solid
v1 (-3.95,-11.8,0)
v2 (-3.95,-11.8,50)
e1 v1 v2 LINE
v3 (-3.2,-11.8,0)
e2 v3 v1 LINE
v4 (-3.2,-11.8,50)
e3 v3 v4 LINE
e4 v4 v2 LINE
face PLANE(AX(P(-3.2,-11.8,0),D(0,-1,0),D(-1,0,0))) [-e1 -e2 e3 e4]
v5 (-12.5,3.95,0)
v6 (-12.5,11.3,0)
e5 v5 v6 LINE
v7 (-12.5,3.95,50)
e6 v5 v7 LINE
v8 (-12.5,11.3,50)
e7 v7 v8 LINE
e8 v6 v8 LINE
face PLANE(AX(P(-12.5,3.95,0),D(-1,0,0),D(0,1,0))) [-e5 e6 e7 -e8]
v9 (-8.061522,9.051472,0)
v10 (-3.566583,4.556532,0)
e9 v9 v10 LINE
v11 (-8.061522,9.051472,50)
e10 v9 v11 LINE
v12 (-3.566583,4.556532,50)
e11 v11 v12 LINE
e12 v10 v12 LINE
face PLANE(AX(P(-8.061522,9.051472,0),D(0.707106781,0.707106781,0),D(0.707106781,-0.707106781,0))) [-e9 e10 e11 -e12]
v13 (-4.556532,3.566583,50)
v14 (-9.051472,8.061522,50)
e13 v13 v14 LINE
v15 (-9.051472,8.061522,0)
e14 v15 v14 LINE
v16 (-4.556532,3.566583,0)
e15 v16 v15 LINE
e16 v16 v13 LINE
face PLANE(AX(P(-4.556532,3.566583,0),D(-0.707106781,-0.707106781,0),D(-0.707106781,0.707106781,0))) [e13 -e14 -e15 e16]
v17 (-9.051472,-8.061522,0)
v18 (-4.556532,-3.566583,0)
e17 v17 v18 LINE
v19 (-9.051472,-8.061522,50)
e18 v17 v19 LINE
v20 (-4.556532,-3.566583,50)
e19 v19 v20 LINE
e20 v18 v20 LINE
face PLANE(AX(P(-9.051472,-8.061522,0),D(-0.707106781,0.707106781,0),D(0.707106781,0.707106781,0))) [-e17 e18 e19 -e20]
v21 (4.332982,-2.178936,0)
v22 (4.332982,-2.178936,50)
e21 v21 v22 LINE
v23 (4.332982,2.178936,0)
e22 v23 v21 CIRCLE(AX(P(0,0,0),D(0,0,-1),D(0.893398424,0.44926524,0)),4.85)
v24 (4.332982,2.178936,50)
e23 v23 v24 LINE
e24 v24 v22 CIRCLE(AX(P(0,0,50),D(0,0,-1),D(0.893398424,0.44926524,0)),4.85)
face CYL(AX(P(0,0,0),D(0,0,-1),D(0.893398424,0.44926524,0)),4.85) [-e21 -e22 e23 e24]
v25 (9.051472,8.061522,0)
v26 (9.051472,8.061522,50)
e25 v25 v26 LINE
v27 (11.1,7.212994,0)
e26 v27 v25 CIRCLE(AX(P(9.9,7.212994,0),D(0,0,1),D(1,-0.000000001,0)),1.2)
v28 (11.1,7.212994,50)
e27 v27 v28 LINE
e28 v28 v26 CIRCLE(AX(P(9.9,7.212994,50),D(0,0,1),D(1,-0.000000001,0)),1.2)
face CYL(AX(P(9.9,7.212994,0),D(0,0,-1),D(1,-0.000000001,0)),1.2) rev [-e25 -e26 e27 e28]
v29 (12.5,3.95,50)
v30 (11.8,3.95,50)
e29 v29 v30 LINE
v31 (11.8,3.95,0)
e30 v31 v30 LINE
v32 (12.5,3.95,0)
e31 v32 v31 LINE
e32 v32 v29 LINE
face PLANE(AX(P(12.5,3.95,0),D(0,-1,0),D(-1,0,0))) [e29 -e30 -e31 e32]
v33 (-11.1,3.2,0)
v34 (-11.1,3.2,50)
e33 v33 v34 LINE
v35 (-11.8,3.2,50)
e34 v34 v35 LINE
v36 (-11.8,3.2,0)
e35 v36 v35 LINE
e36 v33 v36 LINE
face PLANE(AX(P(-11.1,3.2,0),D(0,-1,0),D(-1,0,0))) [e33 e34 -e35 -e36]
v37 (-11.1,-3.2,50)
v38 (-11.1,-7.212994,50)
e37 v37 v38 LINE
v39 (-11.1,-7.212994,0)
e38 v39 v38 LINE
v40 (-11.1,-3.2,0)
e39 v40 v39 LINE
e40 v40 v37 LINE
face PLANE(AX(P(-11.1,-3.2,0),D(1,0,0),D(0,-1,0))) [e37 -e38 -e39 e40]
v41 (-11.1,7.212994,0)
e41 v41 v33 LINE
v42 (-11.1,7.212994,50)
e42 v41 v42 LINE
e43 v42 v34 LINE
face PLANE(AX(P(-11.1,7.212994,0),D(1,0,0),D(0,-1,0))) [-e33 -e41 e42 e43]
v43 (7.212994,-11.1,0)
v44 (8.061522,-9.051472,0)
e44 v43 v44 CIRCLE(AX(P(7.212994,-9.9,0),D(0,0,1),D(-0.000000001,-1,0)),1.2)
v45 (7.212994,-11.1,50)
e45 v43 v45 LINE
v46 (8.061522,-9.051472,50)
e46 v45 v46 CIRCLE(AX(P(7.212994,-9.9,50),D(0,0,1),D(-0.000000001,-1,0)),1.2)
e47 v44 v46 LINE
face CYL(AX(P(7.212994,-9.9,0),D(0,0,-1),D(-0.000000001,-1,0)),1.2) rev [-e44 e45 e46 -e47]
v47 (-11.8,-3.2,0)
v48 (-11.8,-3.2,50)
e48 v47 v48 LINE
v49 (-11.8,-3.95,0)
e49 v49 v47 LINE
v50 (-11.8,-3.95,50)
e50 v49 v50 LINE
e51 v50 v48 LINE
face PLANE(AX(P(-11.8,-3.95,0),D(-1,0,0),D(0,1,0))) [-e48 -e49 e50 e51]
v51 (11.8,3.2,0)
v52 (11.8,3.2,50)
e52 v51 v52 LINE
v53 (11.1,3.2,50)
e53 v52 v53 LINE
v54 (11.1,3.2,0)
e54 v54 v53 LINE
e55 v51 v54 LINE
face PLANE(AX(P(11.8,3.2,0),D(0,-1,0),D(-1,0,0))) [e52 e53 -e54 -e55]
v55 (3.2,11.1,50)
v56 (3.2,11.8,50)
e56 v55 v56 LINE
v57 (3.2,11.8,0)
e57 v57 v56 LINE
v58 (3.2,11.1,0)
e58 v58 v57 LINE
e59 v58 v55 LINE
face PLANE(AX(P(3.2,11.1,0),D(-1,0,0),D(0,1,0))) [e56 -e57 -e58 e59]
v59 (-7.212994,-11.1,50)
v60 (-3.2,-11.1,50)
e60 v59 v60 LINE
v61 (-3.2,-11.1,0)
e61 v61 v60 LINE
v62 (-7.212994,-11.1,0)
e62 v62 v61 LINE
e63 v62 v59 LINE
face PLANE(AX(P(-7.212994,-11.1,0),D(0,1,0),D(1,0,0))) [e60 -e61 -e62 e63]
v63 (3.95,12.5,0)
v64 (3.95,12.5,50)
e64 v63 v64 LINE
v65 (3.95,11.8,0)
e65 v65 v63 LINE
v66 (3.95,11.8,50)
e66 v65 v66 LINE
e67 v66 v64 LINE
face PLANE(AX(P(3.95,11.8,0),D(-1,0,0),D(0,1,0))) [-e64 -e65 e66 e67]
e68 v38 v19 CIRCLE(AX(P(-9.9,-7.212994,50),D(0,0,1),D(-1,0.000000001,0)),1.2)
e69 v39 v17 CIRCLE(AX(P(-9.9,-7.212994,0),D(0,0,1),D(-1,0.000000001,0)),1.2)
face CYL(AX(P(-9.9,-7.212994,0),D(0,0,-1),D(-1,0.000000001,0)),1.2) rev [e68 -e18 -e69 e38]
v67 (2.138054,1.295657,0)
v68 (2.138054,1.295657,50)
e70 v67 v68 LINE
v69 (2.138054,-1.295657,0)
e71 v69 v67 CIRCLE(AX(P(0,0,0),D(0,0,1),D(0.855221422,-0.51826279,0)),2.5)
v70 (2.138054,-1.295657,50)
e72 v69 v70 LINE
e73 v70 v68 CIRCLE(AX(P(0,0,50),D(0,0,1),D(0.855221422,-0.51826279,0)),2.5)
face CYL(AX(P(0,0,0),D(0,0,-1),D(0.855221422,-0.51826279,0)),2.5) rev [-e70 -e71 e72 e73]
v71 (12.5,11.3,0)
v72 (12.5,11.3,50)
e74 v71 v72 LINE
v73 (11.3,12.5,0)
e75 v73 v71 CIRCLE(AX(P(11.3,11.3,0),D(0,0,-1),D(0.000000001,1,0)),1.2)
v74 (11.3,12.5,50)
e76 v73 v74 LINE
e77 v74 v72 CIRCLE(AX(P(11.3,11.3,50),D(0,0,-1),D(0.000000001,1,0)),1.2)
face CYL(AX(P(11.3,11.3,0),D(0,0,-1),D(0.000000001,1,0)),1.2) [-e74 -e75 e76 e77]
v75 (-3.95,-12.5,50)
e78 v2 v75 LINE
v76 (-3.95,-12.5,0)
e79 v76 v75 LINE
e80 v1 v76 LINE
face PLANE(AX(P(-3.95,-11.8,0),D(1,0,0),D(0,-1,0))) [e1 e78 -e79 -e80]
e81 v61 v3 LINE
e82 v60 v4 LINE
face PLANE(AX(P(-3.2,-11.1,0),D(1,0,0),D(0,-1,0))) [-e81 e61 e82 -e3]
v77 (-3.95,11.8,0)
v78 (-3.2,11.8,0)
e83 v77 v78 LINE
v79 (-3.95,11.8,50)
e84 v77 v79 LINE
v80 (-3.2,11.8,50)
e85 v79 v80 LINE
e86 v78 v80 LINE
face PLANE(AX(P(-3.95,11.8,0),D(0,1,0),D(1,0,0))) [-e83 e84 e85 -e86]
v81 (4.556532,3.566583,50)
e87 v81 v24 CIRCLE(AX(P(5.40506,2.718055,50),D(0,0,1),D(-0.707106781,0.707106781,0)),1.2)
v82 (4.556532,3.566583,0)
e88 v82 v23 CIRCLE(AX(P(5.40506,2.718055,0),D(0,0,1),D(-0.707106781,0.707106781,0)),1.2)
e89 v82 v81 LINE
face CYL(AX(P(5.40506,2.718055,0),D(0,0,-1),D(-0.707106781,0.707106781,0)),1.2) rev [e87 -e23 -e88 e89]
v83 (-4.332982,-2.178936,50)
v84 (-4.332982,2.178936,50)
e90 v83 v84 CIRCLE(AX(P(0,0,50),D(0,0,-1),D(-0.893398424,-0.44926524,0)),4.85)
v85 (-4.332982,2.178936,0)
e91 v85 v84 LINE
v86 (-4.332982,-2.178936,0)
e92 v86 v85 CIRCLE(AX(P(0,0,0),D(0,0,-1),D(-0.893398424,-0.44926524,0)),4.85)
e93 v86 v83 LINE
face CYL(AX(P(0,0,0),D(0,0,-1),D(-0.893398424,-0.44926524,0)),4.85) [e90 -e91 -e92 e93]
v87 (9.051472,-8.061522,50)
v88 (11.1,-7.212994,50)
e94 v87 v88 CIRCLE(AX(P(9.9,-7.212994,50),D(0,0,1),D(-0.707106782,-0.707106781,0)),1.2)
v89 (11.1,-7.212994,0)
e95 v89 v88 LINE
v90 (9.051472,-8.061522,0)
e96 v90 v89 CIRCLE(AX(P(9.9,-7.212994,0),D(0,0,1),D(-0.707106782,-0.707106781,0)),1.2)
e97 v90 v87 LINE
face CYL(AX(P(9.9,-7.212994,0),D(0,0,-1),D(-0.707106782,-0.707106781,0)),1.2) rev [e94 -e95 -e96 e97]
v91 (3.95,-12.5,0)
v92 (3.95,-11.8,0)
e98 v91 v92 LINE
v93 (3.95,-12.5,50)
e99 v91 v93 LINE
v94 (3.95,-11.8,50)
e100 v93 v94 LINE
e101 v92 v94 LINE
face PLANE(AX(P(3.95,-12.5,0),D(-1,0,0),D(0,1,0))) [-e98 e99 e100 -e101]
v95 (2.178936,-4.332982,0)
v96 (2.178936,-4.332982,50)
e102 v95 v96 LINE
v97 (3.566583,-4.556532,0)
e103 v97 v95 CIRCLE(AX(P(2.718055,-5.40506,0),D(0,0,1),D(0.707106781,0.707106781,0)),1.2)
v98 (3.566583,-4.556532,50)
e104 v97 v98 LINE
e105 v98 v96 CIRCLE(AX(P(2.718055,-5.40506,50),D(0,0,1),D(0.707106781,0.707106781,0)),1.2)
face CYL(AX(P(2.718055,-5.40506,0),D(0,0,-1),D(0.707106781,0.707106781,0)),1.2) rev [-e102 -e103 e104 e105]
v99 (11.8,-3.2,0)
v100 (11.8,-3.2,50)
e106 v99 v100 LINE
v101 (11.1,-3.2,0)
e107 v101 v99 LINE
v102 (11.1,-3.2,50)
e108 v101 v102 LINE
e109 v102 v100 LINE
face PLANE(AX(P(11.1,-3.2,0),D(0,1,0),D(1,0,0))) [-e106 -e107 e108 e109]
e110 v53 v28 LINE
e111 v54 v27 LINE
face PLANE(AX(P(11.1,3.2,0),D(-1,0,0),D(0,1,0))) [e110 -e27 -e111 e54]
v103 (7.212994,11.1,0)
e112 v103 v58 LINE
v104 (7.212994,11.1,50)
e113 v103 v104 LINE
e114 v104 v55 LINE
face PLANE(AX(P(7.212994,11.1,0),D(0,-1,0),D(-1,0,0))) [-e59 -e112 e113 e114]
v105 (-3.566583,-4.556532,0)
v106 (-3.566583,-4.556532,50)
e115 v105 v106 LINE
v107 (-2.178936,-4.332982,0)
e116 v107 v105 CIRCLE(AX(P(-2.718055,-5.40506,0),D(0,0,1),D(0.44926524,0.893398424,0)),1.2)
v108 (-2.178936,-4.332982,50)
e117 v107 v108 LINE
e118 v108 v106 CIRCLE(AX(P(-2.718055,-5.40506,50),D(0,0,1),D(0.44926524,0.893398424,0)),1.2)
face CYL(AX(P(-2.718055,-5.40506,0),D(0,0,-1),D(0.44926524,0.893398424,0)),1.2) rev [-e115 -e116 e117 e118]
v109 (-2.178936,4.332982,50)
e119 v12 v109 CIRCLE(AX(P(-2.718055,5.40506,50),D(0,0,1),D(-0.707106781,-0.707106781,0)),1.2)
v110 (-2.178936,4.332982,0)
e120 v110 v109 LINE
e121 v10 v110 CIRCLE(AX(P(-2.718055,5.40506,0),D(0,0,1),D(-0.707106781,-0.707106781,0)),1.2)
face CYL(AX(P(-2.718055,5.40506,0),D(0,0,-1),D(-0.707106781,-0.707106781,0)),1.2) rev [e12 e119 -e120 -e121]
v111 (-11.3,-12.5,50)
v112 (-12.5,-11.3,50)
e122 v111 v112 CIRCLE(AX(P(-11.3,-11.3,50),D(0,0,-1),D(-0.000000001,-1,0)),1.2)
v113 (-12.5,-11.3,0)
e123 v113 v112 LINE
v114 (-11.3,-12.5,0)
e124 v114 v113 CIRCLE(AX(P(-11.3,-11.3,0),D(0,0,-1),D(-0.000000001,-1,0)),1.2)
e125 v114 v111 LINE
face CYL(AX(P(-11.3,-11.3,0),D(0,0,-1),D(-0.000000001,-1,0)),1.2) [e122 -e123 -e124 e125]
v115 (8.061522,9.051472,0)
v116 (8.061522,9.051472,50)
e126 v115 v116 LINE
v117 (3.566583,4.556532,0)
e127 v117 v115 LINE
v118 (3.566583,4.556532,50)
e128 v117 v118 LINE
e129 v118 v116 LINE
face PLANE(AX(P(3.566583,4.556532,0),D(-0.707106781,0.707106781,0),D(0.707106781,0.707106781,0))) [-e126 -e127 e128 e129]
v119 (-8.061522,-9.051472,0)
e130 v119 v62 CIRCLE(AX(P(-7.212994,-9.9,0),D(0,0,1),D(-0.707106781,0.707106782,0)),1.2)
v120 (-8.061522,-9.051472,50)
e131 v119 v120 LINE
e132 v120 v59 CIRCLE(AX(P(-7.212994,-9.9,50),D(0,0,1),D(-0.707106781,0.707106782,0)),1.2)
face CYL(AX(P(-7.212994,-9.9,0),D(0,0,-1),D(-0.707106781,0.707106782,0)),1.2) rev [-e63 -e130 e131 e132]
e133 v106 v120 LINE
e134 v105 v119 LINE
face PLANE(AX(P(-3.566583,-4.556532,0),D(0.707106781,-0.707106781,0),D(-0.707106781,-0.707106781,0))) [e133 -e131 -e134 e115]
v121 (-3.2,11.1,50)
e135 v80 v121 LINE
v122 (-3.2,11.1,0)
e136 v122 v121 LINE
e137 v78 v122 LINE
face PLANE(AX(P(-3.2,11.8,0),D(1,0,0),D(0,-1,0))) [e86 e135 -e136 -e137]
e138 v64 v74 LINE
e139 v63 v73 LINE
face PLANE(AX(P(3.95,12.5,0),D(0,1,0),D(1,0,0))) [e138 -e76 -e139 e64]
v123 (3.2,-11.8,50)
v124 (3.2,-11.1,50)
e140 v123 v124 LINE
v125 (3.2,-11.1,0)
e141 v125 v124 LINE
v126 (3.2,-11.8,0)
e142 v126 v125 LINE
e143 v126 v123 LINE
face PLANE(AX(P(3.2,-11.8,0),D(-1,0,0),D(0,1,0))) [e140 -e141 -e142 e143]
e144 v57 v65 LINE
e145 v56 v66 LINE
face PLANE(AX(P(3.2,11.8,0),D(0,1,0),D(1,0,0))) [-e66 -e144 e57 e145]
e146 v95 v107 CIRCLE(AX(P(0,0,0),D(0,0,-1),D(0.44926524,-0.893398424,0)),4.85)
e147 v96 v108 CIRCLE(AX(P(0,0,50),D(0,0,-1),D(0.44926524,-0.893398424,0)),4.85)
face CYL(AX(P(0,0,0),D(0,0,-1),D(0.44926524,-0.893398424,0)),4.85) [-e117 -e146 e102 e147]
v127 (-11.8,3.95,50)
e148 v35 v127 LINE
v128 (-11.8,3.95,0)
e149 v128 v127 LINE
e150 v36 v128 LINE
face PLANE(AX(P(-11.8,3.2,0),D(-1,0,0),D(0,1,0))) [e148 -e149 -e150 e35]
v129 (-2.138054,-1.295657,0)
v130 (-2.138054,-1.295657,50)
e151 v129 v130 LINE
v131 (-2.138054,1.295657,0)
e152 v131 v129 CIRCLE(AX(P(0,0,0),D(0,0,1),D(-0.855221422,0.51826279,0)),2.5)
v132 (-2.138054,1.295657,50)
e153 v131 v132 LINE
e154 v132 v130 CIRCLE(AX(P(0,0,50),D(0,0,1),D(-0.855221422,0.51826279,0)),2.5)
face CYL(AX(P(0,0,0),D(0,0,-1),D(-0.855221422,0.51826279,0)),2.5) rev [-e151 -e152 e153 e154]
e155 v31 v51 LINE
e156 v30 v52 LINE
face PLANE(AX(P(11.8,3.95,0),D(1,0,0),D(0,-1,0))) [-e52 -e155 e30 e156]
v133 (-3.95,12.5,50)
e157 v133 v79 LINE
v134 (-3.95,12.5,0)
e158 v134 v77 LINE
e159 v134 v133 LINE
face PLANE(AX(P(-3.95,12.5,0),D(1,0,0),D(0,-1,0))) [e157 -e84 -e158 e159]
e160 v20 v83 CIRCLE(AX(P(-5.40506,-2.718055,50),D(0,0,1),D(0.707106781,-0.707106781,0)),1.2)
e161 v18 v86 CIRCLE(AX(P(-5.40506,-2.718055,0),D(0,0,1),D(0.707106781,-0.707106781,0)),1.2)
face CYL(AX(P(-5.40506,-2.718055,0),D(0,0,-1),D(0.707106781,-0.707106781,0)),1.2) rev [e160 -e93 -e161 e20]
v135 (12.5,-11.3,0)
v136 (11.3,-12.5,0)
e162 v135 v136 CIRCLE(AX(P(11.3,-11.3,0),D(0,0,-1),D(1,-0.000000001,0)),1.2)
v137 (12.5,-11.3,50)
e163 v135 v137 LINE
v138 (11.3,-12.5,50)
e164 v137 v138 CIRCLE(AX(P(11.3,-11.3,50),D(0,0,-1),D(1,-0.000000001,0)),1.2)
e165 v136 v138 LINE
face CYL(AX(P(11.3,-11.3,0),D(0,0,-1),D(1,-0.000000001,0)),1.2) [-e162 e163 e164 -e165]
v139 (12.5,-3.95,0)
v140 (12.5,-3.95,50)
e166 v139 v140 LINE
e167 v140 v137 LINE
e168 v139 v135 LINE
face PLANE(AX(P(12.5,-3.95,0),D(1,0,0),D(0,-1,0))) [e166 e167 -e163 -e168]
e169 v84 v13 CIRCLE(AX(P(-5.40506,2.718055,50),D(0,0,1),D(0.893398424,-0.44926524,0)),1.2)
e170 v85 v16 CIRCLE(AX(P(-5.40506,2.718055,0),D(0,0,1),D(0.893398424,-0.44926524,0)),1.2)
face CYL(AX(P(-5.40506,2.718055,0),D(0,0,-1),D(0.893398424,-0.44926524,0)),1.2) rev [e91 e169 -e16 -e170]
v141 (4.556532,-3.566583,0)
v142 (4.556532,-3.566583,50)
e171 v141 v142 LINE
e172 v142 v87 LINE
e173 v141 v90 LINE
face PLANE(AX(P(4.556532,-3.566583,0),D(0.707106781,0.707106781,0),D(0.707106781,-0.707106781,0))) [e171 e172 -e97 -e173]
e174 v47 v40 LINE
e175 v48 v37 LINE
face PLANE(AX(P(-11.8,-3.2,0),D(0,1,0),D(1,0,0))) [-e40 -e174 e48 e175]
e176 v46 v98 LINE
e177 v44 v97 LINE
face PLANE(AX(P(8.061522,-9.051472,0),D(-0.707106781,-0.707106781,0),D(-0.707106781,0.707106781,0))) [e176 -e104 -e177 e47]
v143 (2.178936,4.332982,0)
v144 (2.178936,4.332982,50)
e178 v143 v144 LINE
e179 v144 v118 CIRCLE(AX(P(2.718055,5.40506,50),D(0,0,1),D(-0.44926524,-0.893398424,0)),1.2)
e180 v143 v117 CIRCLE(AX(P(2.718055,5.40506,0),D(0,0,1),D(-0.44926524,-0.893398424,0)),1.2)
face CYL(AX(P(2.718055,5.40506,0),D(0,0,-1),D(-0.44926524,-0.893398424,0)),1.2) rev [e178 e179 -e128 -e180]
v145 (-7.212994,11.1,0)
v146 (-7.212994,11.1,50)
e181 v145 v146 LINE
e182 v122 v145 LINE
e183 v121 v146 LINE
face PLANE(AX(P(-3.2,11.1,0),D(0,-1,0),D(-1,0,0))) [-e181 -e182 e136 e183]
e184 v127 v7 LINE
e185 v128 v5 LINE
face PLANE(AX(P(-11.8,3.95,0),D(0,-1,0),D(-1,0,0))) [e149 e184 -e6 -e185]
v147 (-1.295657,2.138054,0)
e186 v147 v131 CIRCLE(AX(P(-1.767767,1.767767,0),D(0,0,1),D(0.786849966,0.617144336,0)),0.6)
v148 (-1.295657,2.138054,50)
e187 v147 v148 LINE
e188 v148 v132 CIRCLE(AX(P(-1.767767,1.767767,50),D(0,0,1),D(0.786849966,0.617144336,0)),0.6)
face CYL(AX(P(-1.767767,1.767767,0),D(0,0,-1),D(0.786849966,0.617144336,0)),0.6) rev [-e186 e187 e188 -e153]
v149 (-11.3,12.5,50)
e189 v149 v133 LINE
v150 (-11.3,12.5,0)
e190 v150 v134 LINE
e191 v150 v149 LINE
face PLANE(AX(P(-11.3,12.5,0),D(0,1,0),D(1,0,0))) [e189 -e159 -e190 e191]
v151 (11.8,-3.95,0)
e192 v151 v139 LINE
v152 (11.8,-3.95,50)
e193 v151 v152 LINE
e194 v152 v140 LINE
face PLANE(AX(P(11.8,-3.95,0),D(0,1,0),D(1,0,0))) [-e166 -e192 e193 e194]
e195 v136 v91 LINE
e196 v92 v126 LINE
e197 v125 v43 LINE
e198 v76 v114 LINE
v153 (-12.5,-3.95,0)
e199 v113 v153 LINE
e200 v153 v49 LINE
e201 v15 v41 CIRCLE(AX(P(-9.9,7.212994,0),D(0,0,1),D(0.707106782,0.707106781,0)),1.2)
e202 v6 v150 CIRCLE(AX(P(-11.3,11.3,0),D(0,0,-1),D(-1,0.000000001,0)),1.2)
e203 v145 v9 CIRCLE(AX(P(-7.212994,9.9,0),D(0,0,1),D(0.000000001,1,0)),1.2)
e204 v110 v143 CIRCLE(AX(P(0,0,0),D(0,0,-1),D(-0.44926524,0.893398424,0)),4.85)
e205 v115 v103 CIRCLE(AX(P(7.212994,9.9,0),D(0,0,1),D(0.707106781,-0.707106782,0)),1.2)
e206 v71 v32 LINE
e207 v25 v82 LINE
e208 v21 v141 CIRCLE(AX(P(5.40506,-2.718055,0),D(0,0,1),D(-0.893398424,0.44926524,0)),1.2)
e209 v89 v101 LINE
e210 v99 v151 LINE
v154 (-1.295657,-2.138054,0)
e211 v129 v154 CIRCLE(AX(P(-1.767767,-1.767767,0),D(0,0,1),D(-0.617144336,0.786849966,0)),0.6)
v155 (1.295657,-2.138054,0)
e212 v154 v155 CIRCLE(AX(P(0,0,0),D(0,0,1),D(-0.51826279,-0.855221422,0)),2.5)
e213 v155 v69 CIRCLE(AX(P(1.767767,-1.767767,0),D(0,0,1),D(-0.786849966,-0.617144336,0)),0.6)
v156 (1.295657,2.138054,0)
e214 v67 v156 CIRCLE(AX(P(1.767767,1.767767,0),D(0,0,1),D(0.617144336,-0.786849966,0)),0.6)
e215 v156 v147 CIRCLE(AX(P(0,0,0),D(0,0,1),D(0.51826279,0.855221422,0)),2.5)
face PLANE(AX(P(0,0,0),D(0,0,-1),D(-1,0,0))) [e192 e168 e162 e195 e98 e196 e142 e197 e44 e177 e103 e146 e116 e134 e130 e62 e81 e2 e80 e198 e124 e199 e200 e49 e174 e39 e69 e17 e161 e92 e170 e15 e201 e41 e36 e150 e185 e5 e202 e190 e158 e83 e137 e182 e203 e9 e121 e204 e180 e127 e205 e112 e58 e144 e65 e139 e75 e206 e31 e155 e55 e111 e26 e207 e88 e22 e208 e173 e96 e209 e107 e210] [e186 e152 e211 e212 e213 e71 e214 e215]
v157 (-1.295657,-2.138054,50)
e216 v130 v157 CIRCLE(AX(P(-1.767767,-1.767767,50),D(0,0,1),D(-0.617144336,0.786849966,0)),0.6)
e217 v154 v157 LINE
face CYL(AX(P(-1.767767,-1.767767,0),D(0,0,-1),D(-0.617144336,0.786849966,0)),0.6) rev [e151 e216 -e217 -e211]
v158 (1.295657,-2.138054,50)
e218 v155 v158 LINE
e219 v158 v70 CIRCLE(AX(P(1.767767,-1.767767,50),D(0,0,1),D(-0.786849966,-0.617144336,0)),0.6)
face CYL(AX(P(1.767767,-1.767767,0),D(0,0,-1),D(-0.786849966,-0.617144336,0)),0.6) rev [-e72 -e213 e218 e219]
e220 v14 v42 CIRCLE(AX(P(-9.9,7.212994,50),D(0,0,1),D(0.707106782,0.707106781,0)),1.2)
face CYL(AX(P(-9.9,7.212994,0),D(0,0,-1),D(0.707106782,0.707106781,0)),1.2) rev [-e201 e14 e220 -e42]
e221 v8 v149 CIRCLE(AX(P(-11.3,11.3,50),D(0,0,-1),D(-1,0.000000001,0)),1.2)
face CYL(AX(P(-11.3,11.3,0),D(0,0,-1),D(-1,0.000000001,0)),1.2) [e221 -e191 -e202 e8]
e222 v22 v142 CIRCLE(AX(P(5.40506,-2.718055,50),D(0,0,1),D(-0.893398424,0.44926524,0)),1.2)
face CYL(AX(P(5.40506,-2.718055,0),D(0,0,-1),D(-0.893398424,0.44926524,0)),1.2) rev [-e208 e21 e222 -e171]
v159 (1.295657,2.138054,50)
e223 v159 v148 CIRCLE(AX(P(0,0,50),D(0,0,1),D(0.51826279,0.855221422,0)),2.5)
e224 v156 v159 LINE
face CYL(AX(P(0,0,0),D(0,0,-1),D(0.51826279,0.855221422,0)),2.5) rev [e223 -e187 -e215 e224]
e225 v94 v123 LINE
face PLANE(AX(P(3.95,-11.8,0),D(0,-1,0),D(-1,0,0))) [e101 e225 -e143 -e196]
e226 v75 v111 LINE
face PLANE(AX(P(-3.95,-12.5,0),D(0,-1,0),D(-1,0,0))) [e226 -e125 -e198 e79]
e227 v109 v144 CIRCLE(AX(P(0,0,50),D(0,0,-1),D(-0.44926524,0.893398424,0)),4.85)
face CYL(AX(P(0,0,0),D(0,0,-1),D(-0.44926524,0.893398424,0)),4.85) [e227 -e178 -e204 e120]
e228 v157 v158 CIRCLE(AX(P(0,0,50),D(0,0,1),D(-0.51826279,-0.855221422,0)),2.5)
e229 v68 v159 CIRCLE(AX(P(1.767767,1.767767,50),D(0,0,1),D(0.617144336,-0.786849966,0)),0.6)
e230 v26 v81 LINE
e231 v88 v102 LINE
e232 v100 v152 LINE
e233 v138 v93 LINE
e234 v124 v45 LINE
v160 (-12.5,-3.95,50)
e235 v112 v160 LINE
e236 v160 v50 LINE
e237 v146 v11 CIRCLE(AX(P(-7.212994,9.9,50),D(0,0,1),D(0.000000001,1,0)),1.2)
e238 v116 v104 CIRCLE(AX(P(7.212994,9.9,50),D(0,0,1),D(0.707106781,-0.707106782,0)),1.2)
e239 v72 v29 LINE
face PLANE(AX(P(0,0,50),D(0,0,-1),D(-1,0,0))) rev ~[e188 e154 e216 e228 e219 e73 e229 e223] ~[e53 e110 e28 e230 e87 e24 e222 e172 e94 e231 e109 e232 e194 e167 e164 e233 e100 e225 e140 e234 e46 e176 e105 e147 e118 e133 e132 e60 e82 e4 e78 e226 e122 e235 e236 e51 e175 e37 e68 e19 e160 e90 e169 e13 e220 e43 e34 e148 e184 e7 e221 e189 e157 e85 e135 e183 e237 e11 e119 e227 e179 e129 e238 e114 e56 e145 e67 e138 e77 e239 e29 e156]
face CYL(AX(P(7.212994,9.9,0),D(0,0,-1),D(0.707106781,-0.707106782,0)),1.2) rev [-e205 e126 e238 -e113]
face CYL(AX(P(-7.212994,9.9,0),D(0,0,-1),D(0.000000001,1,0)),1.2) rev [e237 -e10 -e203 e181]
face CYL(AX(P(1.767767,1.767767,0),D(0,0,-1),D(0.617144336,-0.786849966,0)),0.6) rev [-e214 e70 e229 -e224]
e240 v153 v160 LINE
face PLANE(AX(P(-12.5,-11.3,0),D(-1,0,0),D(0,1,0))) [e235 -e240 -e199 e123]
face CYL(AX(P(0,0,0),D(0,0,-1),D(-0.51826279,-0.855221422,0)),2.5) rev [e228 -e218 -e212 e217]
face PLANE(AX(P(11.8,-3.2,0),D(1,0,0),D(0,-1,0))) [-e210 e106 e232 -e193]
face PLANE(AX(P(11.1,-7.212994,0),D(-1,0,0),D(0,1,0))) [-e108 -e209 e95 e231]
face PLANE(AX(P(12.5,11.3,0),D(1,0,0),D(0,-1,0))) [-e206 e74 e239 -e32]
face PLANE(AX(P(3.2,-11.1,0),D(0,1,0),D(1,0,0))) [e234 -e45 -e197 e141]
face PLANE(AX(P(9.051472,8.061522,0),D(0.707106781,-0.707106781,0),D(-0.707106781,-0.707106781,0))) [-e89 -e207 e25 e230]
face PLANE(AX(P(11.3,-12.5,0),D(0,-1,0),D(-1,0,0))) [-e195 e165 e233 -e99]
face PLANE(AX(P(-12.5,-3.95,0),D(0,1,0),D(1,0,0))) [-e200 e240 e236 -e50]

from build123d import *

# Parameters (mm, degrees)
Y_KSEKLIK_EKSTR_ZYON1_DEPTH = 50


with BuildPart() as part:
    # Çizim1 → Yükseklik-Ekstrüzyon1 (new body)
    with BuildSketch(Plane.XY):
        with BuildLine():
            Line((3.95, 12.5), (11.3, 12.5))
            ThreePointArc((11.3, 12.5), (12.148528137, 12.148528137), (12.5, 11.3))
            Line((12.5, 11.3), (12.5, 3.95))
            Line((12.5, 3.95), (11.8, 3.95))
            Line((11.8, 3.95), (11.8, 3.2))
            Line((11.8, 3.2), (11.1, 3.2))
            Line((11.1, 3.2), (11.1, 7.212994231))
            ThreePointArc((11.1, 7.212994231), (10.359220119, 8.321649671), (9.051471863, 8.061522369))
            Line((9.051471863, 8.061522369), (4.55653233, 3.566582836))
            ThreePointArc((4.55653233, 3.566582836), (4.220335715, 2.90891397), (4.332982358, 2.178936411))
            ThreePointArc((4.332982358, 2.178936411), (4.85, 0), (4.332982358, -2.178936411))
            ThreePointArc((4.332982358, -2.178936411), (4.220335715, -2.90891397), (4.55653233, -3.566582836))
            Line((4.55653233, -3.566582836), (9.051471863, -8.061522369))
            ThreePointArc((9.051471863, -8.061522369), (10.359220119, -8.321649671), (11.1, -7.212994231))
            Line((11.1, -7.212994231), (11.1, -3.2))
            Line((11.1, -3.2), (11.8, -3.2))
            Line((11.8, -3.2), (11.8, -3.95))
            Line((11.8, -3.95), (12.5, -3.95))
            Line((12.5, -3.95), (12.5, -11.3))
            ThreePointArc((12.5, -11.3), (12.148528137, -12.148528137), (11.3, -12.5))
            Line((11.3, -12.5), (3.95, -12.5))
            Line((3.95, -12.5), (3.95, -11.8))
            Line((3.95, -11.8), (3.2, -11.8))
            Line((3.2, -11.8), (3.2, -11.1))
            Line((3.2, -11.1), (7.212994231, -11.1))
            ThreePointArc((7.212994231, -11.1), (8.321649671, -10.359220119), (8.061522369, -9.051471863))
            Line((8.061522369, -9.051471863), (3.566582836, -4.55653233))
            ThreePointArc((3.566582836, -4.55653233), (2.90891397, -4.220335715), (2.178936411, -4.332982358))
            ThreePointArc((2.178936411, -4.332982358), (0, -4.85), (-2.178936411, -4.332982358))
            ThreePointArc((-2.178936411, -4.332982358), (-2.90891397, -4.220335715), (-3.566582836, -4.55653233))
            Line((-3.566582836, -4.55653233), (-8.061522369, -9.051471863))
            ThreePointArc((-8.061522369, -9.051471863), (-8.321649671, -10.359220119), (-7.212994231, -11.1))
            Line((-7.212994231, -11.1), (-3.2, -11.1))
            Line((-3.2, -11.1), (-3.2, -11.8))
            Line((-3.2, -11.8), (-3.95, -11.8))
            Line((-3.95, -11.8), (-3.95, -12.5))
            Line((-3.95, -12.5), (-11.3, -12.5))
            ThreePointArc((-11.3, -12.5), (-12.148528137, -12.148528137), (-12.5, -11.3))
            Line((-12.5, -11.3), (-12.5, -3.95))
            Line((-12.5, -3.95), (-11.8, -3.95))
            Line((-11.8, -3.95), (-11.8, -3.2))
            Line((-11.8, -3.2), (-11.1, -3.2))
            Line((-11.1, -3.2), (-11.1, -7.212994231))
            ThreePointArc((-11.1, -7.212994231), (-10.359220119, -8.321649671), (-9.051471863, -8.061522369))
            Line((-9.051471863, -8.061522369), (-4.55653233, -3.566582836))
            ThreePointArc((-4.55653233, -3.566582836), (-4.220335715, -2.90891397), (-4.332982358, -2.178936411))
            ThreePointArc((-4.332982358, -2.178936411), (-4.85, 0), (-4.332982358, 2.178936411))
            ThreePointArc((-4.332982358, 2.178936411), (-4.220335715, 2.90891397), (-4.55653233, 3.566582836))
            Line((-4.55653233, 3.566582836), (-9.051471863, 8.061522369))
            ThreePointArc((-9.051471863, 8.061522369), (-10.359220119, 8.321649671), (-11.1, 7.212994231))
            Line((-11.1, 7.212994231), (-11.1, 3.2))
            Line((-11.1, 3.2), (-11.8, 3.2))
            Line((-11.8, 3.2), (-11.8, 3.95))
            Line((-11.8, 3.95), (-12.5, 3.95))
            Line((-12.5, 3.95), (-12.5, 11.3))
            ThreePointArc((-12.5, 11.3), (-12.148528137, 12.148528137), (-11.3, 12.5))
            Line((-11.3, 12.5), (-3.95, 12.5))
            Line((-3.95, 12.5), (-3.95, 11.8))
            Line((-3.95, 11.8), (-3.2, 11.8))
            Line((-3.2, 11.8), (-3.2, 11.1))
            Line((-3.2, 11.1), (-7.212994231, 11.1))
            ThreePointArc((-7.212994231, 11.1), (-8.321649671, 10.359220119), (-8.061522369, 9.051471863))
            Line((-8.061522369, 9.051471863), (-3.566582836, 4.55653233))
            ThreePointArc((-3.566582836, 4.55653233), (-2.90891397, 4.220335715), (-2.178936411, 4.332982358))
            ThreePointArc((-2.178936411, 4.332982358), (0, 4.85), (2.178936411, 4.332982358))
            ThreePointArc((2.178936411, 4.332982358), (2.90891397, 4.220335715), (3.566582836, 4.55653233))
            Line((3.566582836, 4.55653233), (8.061522369, 9.051471863))
            ThreePointArc((8.061522369, 9.051471863), (8.321649671, 10.359220119), (7.212994231, 11.1))
            Line((7.212994231, 11.1), (3.2, 11.1))
            Line((3.2, 11.1), (3.2, 11.8))
            Line((3.2, 11.8), (3.95, 11.8))
            Line((3.95, 11.8), (3.95, 12.5))
        make_face()
        with BuildLine():
            ThreePointArc((1.295656974, 2.138053555), (0, 2.5), (-1.295656974, 2.138053555))
            ThreePointArc((-1.295656974, 2.138053555), (-2.192031022, 2.192031022), (-2.138053555, 1.295656974))
            ThreePointArc((-2.138053555, 1.295656974), (-2.5, 0), (-2.138053555, -1.295656974))
            ThreePointArc((-2.138053555, -1.295656974), (-2.192031022, -2.192031022), (-1.295656974, -2.138053555))
            ThreePointArc((-1.295656974, -2.138053555), (0, -2.5), (1.295656974, -2.138053555))
            ThreePointArc((1.295656974, -2.138053555), (2.192031022, -2.192031022), (2.138053555, -1.295656974))
            ThreePointArc((2.138053555, -1.295656974), (2.5, 0), (2.138053555, 1.295656974))
            ThreePointArc((2.138053555, 1.295656974), (2.192031022, 2.192031022), (1.295656974, 2.138053555))
        make_face(mode=Mode.SUBTRACT)
    extrude(amount=Y_KSEKLIK_EKSTR_ZYON1_DEPTH)


solid = part.part
